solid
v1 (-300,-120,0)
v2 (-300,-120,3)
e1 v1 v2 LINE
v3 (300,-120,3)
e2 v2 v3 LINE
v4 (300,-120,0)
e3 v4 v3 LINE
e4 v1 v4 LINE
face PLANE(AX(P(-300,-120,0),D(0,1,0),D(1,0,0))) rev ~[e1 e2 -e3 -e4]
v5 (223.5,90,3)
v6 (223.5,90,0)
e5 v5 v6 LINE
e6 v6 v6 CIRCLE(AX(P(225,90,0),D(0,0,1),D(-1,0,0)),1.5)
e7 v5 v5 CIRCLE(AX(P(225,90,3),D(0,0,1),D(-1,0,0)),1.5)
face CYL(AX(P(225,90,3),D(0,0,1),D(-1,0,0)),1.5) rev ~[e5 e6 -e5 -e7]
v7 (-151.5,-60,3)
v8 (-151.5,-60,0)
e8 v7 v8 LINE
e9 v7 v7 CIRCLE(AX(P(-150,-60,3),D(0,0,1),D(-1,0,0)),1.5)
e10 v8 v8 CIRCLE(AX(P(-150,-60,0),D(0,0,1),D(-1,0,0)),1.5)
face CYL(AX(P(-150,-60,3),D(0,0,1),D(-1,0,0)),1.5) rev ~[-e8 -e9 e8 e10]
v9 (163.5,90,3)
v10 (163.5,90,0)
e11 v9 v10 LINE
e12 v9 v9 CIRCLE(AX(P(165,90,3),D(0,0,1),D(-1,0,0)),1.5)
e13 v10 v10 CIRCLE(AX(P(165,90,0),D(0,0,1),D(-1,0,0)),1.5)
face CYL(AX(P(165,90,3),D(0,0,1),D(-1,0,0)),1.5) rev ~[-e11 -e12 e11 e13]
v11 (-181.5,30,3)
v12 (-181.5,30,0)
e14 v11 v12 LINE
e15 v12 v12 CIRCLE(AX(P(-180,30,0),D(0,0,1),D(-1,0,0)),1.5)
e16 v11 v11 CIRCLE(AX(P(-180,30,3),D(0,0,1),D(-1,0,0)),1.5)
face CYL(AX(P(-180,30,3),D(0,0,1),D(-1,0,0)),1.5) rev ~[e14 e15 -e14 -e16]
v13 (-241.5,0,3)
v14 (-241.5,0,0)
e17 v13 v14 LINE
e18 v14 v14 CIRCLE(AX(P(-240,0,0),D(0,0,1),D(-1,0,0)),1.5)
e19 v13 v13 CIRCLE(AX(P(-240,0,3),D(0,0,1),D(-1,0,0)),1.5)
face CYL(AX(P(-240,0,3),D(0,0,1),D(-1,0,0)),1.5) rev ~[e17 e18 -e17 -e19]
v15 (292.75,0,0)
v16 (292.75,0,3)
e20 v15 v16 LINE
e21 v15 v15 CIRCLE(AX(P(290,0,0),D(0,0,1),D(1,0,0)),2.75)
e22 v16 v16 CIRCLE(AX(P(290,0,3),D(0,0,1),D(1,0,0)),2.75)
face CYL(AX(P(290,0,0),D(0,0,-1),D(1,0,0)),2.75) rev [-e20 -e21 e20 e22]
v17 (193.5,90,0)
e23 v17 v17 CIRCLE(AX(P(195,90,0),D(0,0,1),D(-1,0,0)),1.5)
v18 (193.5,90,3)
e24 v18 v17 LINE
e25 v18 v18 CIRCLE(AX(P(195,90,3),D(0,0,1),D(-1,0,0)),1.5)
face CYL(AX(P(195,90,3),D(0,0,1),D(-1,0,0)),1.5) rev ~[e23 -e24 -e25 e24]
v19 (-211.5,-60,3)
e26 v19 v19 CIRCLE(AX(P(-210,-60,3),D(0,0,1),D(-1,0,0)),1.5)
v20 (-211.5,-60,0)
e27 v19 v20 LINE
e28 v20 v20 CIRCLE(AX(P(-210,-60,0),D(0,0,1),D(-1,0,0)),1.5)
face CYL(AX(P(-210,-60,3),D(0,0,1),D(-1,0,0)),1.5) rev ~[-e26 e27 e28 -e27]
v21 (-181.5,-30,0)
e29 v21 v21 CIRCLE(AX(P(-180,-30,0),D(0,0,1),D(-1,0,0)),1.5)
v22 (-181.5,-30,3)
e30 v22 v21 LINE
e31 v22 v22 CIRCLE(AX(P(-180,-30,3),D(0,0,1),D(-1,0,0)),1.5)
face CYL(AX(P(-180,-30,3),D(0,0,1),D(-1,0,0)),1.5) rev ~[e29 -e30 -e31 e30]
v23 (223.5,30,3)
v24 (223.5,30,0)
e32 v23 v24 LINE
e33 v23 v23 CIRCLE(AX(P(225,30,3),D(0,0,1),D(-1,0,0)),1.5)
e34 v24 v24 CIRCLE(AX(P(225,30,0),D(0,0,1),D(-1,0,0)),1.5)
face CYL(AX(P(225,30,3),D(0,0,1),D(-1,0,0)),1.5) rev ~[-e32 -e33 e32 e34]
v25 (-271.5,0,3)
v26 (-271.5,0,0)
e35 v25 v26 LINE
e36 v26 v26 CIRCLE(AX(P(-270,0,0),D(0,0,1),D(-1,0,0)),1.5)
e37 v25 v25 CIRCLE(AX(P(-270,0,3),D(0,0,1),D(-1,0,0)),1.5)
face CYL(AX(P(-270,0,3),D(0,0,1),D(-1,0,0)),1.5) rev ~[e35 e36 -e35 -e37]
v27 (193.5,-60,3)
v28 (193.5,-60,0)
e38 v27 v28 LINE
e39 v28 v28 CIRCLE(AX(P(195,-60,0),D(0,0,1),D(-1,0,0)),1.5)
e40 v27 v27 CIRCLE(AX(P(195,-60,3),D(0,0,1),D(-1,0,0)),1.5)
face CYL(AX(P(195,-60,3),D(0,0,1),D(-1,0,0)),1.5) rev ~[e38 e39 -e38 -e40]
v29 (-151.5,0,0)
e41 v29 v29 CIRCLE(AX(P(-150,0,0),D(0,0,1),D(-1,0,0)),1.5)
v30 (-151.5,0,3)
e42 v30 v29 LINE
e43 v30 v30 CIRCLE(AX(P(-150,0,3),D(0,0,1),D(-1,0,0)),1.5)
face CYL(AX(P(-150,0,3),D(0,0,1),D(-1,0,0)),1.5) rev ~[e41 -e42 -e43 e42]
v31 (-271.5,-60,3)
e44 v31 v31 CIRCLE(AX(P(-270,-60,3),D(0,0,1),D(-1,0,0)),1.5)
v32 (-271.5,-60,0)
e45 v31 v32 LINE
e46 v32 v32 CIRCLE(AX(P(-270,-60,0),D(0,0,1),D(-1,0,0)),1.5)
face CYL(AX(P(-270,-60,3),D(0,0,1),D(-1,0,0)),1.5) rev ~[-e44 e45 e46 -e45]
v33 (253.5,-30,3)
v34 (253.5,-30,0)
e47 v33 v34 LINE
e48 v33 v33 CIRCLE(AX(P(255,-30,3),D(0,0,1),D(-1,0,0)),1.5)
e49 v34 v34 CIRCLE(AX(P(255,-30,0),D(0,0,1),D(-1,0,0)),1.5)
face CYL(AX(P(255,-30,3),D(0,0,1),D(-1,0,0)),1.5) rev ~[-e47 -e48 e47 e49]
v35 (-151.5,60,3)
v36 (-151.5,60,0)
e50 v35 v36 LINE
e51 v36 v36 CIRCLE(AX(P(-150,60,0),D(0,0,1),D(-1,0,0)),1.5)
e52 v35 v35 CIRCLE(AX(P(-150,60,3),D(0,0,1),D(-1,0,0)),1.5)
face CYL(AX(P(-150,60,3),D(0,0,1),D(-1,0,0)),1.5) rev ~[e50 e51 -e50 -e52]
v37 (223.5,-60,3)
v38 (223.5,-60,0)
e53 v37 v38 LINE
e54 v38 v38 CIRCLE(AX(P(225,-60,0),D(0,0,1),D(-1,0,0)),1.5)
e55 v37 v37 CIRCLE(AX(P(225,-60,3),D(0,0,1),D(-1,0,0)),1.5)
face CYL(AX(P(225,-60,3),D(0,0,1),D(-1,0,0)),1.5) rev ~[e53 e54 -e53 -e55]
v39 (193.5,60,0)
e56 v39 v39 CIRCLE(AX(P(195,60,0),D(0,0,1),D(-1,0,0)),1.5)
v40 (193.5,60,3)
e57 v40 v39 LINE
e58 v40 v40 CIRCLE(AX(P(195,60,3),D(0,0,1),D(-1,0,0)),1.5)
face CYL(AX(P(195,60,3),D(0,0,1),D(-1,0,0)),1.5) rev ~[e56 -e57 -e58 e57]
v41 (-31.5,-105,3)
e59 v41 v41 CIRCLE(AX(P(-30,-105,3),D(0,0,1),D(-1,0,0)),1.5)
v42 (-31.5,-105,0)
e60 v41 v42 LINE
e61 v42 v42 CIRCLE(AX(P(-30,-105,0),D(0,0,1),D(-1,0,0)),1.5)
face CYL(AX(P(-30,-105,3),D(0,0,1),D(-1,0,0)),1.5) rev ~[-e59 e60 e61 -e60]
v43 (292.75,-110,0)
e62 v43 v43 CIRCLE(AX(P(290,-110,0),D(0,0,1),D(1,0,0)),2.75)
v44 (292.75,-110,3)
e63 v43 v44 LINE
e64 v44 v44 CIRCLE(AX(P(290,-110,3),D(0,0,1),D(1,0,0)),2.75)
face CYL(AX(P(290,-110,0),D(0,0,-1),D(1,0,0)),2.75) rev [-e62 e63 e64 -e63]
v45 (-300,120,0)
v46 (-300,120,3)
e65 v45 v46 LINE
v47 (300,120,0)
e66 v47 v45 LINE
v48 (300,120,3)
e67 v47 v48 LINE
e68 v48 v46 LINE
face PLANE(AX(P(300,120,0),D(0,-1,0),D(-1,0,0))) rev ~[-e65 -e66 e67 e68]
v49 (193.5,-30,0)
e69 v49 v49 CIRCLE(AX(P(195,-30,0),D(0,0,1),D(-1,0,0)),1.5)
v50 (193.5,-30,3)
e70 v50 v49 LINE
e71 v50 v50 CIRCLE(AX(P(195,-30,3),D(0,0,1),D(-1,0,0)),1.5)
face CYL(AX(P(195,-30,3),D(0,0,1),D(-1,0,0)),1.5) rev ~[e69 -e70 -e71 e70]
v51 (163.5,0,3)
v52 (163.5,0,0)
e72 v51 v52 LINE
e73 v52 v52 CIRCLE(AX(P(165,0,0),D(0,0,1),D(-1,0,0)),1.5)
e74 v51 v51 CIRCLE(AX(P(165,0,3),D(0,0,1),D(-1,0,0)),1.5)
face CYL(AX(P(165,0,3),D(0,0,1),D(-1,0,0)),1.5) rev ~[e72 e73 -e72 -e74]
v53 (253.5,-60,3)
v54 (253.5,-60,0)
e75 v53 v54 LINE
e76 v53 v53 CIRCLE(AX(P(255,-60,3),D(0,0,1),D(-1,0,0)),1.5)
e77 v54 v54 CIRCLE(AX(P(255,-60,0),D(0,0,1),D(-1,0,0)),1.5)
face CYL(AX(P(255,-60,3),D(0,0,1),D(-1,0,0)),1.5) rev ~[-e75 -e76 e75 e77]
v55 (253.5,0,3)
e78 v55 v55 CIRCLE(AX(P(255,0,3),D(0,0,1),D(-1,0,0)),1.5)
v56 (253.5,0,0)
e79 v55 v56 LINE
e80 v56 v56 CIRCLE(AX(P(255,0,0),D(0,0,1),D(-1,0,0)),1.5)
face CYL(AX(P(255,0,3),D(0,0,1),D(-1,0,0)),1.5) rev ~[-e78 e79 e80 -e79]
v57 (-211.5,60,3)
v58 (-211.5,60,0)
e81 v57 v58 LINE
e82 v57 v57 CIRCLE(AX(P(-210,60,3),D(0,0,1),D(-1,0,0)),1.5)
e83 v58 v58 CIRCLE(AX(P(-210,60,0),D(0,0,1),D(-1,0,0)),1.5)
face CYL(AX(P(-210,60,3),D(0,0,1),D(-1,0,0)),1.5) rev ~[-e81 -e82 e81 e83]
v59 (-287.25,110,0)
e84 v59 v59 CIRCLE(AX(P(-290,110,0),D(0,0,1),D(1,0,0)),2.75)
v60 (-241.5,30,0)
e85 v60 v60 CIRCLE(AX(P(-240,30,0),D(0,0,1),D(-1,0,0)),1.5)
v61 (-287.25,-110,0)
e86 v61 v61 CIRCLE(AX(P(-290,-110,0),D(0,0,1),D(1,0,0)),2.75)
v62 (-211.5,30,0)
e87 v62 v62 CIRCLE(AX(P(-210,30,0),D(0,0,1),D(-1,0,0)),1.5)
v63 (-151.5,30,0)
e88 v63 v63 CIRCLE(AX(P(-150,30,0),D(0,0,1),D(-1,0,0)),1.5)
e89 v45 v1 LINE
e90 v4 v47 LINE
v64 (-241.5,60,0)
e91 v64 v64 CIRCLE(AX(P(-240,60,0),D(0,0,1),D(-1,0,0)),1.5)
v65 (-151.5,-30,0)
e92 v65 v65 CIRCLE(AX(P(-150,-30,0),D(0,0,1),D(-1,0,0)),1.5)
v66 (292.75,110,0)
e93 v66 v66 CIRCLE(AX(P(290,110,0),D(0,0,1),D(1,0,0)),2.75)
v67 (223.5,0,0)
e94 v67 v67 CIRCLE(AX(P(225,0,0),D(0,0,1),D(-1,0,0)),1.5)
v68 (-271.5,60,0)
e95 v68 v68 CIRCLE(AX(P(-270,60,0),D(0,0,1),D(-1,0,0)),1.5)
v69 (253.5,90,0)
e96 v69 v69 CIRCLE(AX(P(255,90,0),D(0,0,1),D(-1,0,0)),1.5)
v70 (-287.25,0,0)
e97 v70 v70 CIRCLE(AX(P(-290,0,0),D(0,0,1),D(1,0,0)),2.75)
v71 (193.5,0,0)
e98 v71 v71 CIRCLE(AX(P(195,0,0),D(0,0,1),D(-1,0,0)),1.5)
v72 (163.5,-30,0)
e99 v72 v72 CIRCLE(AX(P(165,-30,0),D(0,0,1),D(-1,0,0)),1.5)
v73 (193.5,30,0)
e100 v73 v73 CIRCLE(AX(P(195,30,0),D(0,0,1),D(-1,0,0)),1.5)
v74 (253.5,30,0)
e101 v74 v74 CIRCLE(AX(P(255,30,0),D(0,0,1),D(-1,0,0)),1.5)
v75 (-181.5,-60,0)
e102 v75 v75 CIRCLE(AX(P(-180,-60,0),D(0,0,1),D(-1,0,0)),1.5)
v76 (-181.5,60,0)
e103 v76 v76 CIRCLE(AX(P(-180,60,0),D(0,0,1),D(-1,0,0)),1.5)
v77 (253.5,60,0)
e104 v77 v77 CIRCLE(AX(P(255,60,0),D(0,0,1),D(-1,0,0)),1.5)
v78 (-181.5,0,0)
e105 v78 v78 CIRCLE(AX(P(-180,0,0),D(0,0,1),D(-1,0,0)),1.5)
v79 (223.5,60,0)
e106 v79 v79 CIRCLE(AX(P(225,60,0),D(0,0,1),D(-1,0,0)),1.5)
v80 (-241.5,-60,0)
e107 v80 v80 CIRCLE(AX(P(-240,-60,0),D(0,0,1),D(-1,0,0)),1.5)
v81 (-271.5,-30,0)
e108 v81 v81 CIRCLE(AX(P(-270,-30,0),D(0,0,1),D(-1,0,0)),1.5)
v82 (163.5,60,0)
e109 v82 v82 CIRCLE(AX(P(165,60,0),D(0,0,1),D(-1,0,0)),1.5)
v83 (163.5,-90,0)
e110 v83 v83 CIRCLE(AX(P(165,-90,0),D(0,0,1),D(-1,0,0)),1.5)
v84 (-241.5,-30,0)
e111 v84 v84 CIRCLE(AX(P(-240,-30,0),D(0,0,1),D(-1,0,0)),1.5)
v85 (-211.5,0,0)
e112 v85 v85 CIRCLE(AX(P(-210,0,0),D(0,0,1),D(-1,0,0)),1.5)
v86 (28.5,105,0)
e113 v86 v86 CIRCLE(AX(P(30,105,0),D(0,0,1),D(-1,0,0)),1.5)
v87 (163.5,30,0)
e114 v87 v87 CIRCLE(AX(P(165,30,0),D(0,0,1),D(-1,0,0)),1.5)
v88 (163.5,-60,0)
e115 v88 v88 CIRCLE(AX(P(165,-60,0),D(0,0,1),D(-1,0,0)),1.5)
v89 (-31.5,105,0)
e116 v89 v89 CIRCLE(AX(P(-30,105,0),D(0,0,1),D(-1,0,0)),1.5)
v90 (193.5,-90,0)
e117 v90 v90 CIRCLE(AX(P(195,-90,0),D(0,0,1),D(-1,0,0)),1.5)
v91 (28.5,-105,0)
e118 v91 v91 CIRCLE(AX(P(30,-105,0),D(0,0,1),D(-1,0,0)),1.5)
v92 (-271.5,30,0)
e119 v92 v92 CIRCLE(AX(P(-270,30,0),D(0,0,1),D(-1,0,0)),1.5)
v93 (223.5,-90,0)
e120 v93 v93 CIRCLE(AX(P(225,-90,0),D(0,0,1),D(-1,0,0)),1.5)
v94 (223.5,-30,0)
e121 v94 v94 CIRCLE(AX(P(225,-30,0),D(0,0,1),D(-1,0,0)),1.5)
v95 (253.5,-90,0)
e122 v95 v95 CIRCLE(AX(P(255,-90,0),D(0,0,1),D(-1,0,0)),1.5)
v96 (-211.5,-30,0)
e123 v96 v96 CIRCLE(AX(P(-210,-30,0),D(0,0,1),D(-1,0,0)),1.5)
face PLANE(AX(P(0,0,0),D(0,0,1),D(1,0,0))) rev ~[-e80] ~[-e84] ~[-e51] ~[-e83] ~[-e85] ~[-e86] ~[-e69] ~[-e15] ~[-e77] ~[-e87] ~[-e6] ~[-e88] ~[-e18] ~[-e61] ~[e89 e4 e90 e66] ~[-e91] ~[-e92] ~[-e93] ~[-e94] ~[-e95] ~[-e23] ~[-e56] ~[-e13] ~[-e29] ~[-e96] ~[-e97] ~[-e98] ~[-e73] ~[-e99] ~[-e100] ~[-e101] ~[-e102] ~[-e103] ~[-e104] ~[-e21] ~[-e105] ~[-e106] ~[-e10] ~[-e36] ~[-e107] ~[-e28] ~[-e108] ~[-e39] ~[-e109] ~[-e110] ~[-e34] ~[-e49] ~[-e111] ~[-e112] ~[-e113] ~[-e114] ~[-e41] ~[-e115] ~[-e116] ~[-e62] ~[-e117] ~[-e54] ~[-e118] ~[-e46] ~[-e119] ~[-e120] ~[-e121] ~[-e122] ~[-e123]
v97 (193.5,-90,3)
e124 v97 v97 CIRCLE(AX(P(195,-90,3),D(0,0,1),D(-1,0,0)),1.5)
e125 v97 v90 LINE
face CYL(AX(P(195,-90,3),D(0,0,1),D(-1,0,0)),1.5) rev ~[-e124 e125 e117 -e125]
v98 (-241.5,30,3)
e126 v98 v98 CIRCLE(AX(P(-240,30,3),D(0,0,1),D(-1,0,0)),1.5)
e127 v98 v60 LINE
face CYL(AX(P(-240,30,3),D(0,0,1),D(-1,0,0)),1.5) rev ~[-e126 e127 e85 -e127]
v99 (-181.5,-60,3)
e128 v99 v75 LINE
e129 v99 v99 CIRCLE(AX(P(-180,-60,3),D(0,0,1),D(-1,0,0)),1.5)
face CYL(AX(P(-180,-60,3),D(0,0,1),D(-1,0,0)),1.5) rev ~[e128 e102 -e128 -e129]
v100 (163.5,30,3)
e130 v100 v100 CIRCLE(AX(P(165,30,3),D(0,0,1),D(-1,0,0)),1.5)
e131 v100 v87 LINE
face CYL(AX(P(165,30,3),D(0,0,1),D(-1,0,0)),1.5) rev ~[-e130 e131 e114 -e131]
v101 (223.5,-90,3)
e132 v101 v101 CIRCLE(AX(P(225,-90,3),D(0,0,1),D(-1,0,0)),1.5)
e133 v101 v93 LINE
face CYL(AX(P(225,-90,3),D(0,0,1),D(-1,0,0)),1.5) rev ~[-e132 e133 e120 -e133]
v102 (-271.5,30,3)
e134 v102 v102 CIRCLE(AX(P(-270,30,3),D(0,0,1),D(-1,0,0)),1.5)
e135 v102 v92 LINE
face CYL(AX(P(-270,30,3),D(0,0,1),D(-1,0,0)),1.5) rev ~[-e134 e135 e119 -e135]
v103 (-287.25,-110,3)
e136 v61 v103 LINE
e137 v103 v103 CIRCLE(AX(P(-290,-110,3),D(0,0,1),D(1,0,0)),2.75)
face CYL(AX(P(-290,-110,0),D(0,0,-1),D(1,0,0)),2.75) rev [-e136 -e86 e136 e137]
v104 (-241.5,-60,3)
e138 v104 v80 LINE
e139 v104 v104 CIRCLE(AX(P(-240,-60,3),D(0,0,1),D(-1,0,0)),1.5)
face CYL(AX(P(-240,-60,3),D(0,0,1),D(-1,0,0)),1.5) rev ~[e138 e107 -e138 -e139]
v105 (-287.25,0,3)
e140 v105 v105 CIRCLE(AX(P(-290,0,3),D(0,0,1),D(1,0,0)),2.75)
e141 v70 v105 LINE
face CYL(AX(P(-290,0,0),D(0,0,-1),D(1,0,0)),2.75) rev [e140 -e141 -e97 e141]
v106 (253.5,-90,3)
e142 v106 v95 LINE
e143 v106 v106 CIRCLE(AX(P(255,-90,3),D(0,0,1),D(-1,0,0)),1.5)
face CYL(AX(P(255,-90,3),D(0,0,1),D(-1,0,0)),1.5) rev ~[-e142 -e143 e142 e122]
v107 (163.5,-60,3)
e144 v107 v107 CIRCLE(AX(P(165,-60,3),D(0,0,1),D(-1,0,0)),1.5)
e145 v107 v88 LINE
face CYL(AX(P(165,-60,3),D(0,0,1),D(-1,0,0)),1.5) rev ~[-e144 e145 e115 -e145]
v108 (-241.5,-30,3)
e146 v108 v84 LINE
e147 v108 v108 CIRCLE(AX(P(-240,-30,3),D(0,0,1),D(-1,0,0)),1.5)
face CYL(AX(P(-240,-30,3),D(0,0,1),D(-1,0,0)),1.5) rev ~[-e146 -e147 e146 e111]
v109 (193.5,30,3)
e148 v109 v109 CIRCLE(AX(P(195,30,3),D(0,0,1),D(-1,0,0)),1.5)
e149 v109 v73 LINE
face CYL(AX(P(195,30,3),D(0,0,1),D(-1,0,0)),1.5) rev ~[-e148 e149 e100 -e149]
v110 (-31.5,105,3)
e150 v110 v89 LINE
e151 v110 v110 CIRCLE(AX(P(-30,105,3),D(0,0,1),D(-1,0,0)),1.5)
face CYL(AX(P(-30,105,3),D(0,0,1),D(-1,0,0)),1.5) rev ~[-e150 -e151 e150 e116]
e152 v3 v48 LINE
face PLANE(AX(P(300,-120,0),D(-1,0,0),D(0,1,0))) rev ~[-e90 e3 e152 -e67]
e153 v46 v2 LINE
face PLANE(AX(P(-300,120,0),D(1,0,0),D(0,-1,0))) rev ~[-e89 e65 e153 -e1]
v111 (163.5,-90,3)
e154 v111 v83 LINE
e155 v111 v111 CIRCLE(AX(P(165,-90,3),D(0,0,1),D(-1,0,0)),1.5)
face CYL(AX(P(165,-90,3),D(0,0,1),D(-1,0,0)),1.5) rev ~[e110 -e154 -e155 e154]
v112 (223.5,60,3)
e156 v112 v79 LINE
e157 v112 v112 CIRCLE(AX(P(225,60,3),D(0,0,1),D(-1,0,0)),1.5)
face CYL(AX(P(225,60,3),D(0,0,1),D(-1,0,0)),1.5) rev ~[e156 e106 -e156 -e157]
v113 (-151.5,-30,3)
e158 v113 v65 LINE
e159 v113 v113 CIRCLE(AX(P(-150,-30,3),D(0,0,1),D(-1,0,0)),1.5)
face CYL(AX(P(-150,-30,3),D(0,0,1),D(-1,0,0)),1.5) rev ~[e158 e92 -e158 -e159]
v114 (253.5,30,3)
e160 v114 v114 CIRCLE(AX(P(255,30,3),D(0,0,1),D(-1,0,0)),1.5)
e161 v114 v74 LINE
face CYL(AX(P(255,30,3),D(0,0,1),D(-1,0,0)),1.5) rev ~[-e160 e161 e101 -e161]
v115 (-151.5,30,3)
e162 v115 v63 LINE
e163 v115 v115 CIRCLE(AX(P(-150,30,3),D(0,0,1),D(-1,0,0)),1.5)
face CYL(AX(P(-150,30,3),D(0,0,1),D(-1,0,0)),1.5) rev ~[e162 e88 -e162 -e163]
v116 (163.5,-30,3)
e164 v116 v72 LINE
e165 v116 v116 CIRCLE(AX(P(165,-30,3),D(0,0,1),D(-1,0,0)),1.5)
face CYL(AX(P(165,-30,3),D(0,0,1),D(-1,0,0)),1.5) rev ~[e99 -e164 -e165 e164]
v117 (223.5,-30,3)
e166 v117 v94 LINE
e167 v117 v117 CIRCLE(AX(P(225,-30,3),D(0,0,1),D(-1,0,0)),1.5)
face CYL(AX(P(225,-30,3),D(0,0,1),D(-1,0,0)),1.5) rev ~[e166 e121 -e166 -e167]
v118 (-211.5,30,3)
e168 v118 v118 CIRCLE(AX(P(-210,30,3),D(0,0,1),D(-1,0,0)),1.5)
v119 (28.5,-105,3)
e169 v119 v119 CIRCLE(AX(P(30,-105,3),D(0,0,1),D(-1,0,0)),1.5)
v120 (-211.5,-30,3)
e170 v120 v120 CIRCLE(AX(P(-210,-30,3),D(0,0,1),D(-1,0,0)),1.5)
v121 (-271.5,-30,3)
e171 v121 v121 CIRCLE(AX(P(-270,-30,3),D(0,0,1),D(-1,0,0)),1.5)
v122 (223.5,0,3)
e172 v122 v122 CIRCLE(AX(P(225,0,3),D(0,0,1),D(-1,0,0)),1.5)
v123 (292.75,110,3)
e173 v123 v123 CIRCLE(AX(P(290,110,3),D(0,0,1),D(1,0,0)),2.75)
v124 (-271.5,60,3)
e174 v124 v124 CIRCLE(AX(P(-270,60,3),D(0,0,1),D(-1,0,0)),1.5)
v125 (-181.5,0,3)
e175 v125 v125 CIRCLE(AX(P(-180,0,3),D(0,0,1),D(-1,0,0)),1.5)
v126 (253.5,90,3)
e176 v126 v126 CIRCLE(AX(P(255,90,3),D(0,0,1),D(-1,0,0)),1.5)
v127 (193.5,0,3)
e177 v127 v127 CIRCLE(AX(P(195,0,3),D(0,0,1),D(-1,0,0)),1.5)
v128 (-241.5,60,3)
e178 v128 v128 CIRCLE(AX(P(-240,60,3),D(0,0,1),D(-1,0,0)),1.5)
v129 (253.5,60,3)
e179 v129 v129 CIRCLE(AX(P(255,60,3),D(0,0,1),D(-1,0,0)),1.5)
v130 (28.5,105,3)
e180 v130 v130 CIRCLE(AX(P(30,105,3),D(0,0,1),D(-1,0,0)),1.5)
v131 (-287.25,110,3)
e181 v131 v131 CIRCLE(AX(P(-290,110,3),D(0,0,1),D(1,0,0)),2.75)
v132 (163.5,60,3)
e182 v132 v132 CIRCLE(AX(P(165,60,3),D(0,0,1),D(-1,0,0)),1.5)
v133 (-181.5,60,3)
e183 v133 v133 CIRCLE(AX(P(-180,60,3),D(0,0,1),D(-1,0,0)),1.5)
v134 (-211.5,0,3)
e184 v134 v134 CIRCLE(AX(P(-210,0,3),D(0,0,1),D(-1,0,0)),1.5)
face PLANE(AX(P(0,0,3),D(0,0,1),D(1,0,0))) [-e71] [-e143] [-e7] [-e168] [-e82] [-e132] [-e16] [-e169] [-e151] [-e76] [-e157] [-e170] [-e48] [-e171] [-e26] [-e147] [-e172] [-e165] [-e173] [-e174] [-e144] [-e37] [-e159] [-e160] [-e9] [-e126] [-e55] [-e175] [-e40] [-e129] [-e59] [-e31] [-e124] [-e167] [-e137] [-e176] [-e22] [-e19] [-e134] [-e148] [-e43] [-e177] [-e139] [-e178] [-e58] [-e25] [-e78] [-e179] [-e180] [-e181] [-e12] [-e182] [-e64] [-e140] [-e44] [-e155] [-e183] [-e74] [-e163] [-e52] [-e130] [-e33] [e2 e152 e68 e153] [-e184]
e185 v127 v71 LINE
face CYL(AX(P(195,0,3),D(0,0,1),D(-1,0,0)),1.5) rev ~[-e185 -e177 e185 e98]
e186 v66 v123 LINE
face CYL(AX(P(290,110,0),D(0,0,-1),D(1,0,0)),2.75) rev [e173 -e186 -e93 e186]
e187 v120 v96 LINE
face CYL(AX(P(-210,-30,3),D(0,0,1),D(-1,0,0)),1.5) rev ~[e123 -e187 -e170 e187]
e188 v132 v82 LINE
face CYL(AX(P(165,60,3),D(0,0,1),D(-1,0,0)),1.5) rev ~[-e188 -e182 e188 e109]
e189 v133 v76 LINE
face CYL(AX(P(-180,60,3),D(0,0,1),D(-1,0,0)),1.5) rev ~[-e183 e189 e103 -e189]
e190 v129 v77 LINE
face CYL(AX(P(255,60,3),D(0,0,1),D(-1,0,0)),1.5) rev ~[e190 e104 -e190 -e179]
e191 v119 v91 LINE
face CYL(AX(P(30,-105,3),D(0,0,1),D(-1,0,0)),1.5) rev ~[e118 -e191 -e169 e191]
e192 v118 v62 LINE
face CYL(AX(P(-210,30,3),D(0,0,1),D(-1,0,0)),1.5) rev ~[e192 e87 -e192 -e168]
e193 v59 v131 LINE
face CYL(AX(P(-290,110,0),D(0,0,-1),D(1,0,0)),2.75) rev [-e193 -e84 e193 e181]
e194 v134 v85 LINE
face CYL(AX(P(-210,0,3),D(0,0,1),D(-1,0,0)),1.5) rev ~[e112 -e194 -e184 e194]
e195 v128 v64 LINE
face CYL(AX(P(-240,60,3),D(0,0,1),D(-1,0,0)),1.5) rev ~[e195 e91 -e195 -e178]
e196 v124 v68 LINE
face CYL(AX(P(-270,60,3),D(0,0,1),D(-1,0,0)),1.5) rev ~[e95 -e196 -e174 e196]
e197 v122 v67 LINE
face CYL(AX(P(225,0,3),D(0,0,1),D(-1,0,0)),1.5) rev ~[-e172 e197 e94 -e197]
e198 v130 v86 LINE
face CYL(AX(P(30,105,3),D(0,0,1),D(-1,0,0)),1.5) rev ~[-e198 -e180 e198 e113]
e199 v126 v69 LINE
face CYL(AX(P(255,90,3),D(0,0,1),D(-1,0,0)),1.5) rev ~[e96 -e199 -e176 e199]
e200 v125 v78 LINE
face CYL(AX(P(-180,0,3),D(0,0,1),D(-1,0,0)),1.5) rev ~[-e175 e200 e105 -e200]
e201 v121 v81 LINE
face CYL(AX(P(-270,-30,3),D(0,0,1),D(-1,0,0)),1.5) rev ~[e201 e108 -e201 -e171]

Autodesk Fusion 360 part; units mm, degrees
sketch "Main" plane through (0, 0, 0) normal (0, 0, 1) x (1, 0, 0)
  line L0 (300, 120) -> (-300, 120)
  line L1 (-300, 120) -> (-300, -120)
  line L2 (-300, -120) -> (300, -120)
  line L3 (300, -120) -> (300, 120)
  line L4 (300, 120) -> (-300, -120) construction
  line L5 (-300, 120) -> (300, -120) construction
  line L6 (-300, 120) -> (-290, 120) construction
  line L7 (-290, 120) -> (-290, 110) construction
  circle A0 centre (-290, 110) radius 2.75
  circle A1 centre (290, 110) radius 2.75
  circle A2 centre (-290, 0) radius 2.75
  circle A3 centre (290, 0) radius 2.75
  circle A4 centre (-290, -110) radius 2.75
  circle A5 centre (290, -110) radius 2.75
  dimension "d5" = 600
  dimension "d6" = 240
  dimension "d8" = 10
  dimension "d9" = 10
  dimension "d10" = 5.5
  dimension "d13" = 580
  dimension "d14" = -220
extrude "Extrude1" add sketch "Main" along normal blind 3
sketch "Tool holes" plane through (0, 0, 3) normal (0, 0, 1) x (-1, 0, 0)
  circle A0 centre (-290, 110) radius 2.75
  circle A1 centre (290, 110) radius 2.75
  circle A2 centre (-290, -110) radius 2.75
  circle A3 centre (290, 0) radius 2.75
  circle A4 centre (-290, 0) radius 2.75
  circle A5 centre (290, -110) radius 2.75
  line L0 (-300, 120) -> (-300, -120)
  line L1 (-300, -120) -> (300, -120)
  line L2 (300, -120) -> (300, 120)
  line L3 (300, 120) -> (-300, 120)
  line L4 (300, -120) -> (270, -120) construction
  line L5 (270, -120) -> (270, -60) construction
  circle A6 centre (270, -60) radius 1.5
  circle A7 centre (240, -60) radius 1.5
  circle A8 centre (210, -60) radius 1.5
  circle A9 centre (270, -30) radius 1.5
  circle A10 centre (240, -30) radius 1.5
  circle A11 centre (210, -30) radius 1.5
  circle A12 centre (270, 0) radius 1.5
  circle A13 centre (240, 0) radius 1.5
  circle A14 centre (210, 0) radius 1.5
  circle A15 centre (270, 30) radius 1.5
  circle A16 centre (240, 30) radius 1.5
  circle A17 centre (210, 30) radius 1.5
  circle A18 centre (270, 60) radius 1.5
  circle A19 centre (240, 60) radius 1.5
  circle A20 centre (210, 60) radius 1.5
  circle A21 centre (180, -60) radius 1.5
  circle A22 centre (150, -60) radius 1.5
  circle A23 centre (180, -30) radius 1.5
  circle A24 centre (150, -30) radius 1.5
  circle A25 centre (180, 0) radius 1.5
  circle A26 centre (150, 0) radius 1.5
  circle A27 centre (180, 30) radius 1.5
  circle A28 centre (150, 30) radius 1.5
  circle A29 centre (180, 60) radius 1.5
  circle A30 centre (150, 60) radius 1.5
  line L6 (-300, -120) -> (-255, -120) construction
  line L7 (-255, -120) -> (-255, -90) construction
  circle A31 centre (-255, -90) radius 1.5
  circle A32 centre (-225, -90) radius 1.5
  circle A33 centre (-195, -90) radius 1.5
  circle A34 centre (-255, -60) radius 1.5
  circle A35 centre (-225, -60) radius 1.5
  circle A36 centre (-195, -60) radius 1.5
  circle A37 centre (-255, -30) radius 1.5
  circle A38 centre (-225, -30) radius 1.5
  circle A39 centre (-195, -30) radius 1.5
  circle A40 centre (-165, -90) radius 1.5
  circle A41 centre (-165, -60) radius 1.5
  circle A42 centre (-165, -30) radius 1.5
  circle A43 centre (-255, 0) radius 1.5
  circle A44 centre (-225, 0) radius 1.5
  circle A45 centre (-195, 0) radius 1.5
  circle A46 centre (-165, 0) radius 1.5
  circle A47 centre (-255, 30) radius 1.5
  circle A48 centre (-225, 30) radius 1.5
  circle A49 centre (-195, 30) radius 1.5
  circle A50 centre (-165, 30) radius 1.5
  circle A51 centre (-255, 60) radius 1.5
  circle A52 centre (-225, 60) radius 1.5
  circle A53 centre (-195, 60) radius 1.5
  circle A54 centre (-165, 60) radius 1.5
  circle A55 centre (-255, 90) radius 1.5
  circle A56 centre (-225, 90) radius 1.5
  circle A57 centre (-195, 90) radius 1.5
  circle A58 centre (-165, 90) radius 1.5
  line L8 (0, 0) -> (0, -105) construction
  line L9 (0, -105) -> (-30, -105) construction
  line L10 (0, -105) -> (30, -105) construction
  circle A59 centre (30, -105) radius 1.5
  circle A60 centre (-30, -105) radius 1.5
  line L11 (0, 0) -> (0, 105) construction
  line L12 (0, 105) -> (-30, 105) construction
  line L13 (0, 105) -> (30, 105) construction
  circle A61 centre (30, 105) radius 1.5
  circle A62 centre (-30, 105) radius 1.5
  dimension "d21" = 30
  dimension "d22" = 60
  dimension "d23" = 3
  dimension "d26" = -120
  dimension "d27" = 120
  dimension "d36" = 45
  dimension "d37" = 30
  dimension "d38" = 3
  dimension "d41" = 90
  dimension "d42" = 180
  dimension "d50" = 105
  dimension "d51" = 30
  dimension "d52" = 30
  dimension "d53" = 3
  dimension "d54" = 3
  dimension "d55" = 105
  dimension "d56" = 30
  dimension "d57" = 30
  dimension "d58" = 3
  dimension "d59" = 3
extrude "Extrude2" cut sketch "Tool holes" against normal blind 3 contours A6 | A7 | A8 | A9 | A10 | A11 | A12 | A13 | A14 | A15 | A16 | A17 | A18 | A19 | A20 | A21 | A22 | A23 | A24 | A25 | A26 | A27 | A28 | A29 | A30
extrude "Extrude3" cut sketch "Tool holes" against normal blind 3 contours A6 | A7 | A8 | A9 | A10 | A11 | A12 | A13 | A14 | A15 | A16 | A17 | A18 | A19 | A20 | A21 | A22 | A23 | A24 | A25 | A26 | A27 | A28 | A29 | A30 | A31 | A32 | A33 | A34 | A35 | A36 | A37 | A38 | A39 | A40 | A41 | A42 | A43 | A44 | A45 | A46 | A47 | A48 | A49 | A50 | A51 | A52 | A53 | A54 | A55 | A56 | A57 | A58 | A59 | A60 | A61 | A62
equation "x = 600 mm"
equation "y = 240 mm"
equation "mounting_hole_d = 5.5 mm"
equation "tool_hole_d = 3 mm"
equation "d5 = x"
equation "d6 = y"
equation "mounting_hole_dist_from_side = 10 mm"
equation "d8 = mounting_hole_dist_from_side"
equation "d9 = mounting_hole_dist_from_side"
equation "d10 = mounting_hole_d"
equation "d13 = x - 2 * mounting_hole_dist_from_side"
equation "d14 = -1 * ( y - 2 * mounting_hole_dist_from_side )"
equation "z = 3 mm" comment "material thickness"
equation "d16 = z"
equation "d21 = tool_holes_x_side_offset"
equation "d22 = tool_holes_y_side_offset"
equation "d23 = tool_hole_d"
equation "d24 = tool_holes_x_amount"
equation "d25 = tool_holes_y_amount"
equation "d26 = ( -1 + tool_holes_x_amount ) * tool_holes_spacing * -1"
equation "d27 = y - ( 2 * tool_holes_y_side_offset )"
equation "tool_holes_spacing = 30 mm"
equation "tool_holes_y_side_offset = 60 mm"
equation "tool_holes_x_side_offset = 30 mm"
equation "tool_holes_x_amount = 5"
equation "d33 = -z"
equation "tool_holes_x_side_offset2 = 45 mm"
equation "d36 = tool_holes_x_side_offset2"
equation "d37 = tool_holes_y_side_offset2"
equation "d38 = tool_hole_d"
equation "d39 = tool_holes_x_amount2"
equation "d40 = tool_holes_y_amount2"
equation "d41 = ( -1 + tool_holes_x_amount2 ) * tool_holes_spacing"
equation "d42 = y - ( 2 * tool_holes_y_side_offset2 )"
equation "tool_holes_y_amount = 5" comment "isnt correctly parameterized, when changed"
equation "tool_holes_y_side_offset2 = 30 mm"
equation "tool_holes_y_amount2 = 7"
equation "tool_holes_x_amount2 = 4"
equation "support_foot_hole_spacing = 60 mm"
equation "support_foot_side_offset = 15 mm"
equation "d50 = y / 2 - support_foot_side_offset"
equation "d51 = support_foot_hole_spacing * 0.5"
equation "d52 = support_foot_hole_spacing * 0.5"
equation "d53 = tool_hole_d"
equation "d54 = tool_hole_d"
equation "d55 = y / 2 - support_foot_side_offset"
equation "d56 = support_foot_hole_spacing * 0.5"
equation "d57 = support_foot_hole_spacing * 0.5"
equation "d58 = tool_hole_d"
equation "d59 = tool_hole_d"
equation "d60 = -z"
